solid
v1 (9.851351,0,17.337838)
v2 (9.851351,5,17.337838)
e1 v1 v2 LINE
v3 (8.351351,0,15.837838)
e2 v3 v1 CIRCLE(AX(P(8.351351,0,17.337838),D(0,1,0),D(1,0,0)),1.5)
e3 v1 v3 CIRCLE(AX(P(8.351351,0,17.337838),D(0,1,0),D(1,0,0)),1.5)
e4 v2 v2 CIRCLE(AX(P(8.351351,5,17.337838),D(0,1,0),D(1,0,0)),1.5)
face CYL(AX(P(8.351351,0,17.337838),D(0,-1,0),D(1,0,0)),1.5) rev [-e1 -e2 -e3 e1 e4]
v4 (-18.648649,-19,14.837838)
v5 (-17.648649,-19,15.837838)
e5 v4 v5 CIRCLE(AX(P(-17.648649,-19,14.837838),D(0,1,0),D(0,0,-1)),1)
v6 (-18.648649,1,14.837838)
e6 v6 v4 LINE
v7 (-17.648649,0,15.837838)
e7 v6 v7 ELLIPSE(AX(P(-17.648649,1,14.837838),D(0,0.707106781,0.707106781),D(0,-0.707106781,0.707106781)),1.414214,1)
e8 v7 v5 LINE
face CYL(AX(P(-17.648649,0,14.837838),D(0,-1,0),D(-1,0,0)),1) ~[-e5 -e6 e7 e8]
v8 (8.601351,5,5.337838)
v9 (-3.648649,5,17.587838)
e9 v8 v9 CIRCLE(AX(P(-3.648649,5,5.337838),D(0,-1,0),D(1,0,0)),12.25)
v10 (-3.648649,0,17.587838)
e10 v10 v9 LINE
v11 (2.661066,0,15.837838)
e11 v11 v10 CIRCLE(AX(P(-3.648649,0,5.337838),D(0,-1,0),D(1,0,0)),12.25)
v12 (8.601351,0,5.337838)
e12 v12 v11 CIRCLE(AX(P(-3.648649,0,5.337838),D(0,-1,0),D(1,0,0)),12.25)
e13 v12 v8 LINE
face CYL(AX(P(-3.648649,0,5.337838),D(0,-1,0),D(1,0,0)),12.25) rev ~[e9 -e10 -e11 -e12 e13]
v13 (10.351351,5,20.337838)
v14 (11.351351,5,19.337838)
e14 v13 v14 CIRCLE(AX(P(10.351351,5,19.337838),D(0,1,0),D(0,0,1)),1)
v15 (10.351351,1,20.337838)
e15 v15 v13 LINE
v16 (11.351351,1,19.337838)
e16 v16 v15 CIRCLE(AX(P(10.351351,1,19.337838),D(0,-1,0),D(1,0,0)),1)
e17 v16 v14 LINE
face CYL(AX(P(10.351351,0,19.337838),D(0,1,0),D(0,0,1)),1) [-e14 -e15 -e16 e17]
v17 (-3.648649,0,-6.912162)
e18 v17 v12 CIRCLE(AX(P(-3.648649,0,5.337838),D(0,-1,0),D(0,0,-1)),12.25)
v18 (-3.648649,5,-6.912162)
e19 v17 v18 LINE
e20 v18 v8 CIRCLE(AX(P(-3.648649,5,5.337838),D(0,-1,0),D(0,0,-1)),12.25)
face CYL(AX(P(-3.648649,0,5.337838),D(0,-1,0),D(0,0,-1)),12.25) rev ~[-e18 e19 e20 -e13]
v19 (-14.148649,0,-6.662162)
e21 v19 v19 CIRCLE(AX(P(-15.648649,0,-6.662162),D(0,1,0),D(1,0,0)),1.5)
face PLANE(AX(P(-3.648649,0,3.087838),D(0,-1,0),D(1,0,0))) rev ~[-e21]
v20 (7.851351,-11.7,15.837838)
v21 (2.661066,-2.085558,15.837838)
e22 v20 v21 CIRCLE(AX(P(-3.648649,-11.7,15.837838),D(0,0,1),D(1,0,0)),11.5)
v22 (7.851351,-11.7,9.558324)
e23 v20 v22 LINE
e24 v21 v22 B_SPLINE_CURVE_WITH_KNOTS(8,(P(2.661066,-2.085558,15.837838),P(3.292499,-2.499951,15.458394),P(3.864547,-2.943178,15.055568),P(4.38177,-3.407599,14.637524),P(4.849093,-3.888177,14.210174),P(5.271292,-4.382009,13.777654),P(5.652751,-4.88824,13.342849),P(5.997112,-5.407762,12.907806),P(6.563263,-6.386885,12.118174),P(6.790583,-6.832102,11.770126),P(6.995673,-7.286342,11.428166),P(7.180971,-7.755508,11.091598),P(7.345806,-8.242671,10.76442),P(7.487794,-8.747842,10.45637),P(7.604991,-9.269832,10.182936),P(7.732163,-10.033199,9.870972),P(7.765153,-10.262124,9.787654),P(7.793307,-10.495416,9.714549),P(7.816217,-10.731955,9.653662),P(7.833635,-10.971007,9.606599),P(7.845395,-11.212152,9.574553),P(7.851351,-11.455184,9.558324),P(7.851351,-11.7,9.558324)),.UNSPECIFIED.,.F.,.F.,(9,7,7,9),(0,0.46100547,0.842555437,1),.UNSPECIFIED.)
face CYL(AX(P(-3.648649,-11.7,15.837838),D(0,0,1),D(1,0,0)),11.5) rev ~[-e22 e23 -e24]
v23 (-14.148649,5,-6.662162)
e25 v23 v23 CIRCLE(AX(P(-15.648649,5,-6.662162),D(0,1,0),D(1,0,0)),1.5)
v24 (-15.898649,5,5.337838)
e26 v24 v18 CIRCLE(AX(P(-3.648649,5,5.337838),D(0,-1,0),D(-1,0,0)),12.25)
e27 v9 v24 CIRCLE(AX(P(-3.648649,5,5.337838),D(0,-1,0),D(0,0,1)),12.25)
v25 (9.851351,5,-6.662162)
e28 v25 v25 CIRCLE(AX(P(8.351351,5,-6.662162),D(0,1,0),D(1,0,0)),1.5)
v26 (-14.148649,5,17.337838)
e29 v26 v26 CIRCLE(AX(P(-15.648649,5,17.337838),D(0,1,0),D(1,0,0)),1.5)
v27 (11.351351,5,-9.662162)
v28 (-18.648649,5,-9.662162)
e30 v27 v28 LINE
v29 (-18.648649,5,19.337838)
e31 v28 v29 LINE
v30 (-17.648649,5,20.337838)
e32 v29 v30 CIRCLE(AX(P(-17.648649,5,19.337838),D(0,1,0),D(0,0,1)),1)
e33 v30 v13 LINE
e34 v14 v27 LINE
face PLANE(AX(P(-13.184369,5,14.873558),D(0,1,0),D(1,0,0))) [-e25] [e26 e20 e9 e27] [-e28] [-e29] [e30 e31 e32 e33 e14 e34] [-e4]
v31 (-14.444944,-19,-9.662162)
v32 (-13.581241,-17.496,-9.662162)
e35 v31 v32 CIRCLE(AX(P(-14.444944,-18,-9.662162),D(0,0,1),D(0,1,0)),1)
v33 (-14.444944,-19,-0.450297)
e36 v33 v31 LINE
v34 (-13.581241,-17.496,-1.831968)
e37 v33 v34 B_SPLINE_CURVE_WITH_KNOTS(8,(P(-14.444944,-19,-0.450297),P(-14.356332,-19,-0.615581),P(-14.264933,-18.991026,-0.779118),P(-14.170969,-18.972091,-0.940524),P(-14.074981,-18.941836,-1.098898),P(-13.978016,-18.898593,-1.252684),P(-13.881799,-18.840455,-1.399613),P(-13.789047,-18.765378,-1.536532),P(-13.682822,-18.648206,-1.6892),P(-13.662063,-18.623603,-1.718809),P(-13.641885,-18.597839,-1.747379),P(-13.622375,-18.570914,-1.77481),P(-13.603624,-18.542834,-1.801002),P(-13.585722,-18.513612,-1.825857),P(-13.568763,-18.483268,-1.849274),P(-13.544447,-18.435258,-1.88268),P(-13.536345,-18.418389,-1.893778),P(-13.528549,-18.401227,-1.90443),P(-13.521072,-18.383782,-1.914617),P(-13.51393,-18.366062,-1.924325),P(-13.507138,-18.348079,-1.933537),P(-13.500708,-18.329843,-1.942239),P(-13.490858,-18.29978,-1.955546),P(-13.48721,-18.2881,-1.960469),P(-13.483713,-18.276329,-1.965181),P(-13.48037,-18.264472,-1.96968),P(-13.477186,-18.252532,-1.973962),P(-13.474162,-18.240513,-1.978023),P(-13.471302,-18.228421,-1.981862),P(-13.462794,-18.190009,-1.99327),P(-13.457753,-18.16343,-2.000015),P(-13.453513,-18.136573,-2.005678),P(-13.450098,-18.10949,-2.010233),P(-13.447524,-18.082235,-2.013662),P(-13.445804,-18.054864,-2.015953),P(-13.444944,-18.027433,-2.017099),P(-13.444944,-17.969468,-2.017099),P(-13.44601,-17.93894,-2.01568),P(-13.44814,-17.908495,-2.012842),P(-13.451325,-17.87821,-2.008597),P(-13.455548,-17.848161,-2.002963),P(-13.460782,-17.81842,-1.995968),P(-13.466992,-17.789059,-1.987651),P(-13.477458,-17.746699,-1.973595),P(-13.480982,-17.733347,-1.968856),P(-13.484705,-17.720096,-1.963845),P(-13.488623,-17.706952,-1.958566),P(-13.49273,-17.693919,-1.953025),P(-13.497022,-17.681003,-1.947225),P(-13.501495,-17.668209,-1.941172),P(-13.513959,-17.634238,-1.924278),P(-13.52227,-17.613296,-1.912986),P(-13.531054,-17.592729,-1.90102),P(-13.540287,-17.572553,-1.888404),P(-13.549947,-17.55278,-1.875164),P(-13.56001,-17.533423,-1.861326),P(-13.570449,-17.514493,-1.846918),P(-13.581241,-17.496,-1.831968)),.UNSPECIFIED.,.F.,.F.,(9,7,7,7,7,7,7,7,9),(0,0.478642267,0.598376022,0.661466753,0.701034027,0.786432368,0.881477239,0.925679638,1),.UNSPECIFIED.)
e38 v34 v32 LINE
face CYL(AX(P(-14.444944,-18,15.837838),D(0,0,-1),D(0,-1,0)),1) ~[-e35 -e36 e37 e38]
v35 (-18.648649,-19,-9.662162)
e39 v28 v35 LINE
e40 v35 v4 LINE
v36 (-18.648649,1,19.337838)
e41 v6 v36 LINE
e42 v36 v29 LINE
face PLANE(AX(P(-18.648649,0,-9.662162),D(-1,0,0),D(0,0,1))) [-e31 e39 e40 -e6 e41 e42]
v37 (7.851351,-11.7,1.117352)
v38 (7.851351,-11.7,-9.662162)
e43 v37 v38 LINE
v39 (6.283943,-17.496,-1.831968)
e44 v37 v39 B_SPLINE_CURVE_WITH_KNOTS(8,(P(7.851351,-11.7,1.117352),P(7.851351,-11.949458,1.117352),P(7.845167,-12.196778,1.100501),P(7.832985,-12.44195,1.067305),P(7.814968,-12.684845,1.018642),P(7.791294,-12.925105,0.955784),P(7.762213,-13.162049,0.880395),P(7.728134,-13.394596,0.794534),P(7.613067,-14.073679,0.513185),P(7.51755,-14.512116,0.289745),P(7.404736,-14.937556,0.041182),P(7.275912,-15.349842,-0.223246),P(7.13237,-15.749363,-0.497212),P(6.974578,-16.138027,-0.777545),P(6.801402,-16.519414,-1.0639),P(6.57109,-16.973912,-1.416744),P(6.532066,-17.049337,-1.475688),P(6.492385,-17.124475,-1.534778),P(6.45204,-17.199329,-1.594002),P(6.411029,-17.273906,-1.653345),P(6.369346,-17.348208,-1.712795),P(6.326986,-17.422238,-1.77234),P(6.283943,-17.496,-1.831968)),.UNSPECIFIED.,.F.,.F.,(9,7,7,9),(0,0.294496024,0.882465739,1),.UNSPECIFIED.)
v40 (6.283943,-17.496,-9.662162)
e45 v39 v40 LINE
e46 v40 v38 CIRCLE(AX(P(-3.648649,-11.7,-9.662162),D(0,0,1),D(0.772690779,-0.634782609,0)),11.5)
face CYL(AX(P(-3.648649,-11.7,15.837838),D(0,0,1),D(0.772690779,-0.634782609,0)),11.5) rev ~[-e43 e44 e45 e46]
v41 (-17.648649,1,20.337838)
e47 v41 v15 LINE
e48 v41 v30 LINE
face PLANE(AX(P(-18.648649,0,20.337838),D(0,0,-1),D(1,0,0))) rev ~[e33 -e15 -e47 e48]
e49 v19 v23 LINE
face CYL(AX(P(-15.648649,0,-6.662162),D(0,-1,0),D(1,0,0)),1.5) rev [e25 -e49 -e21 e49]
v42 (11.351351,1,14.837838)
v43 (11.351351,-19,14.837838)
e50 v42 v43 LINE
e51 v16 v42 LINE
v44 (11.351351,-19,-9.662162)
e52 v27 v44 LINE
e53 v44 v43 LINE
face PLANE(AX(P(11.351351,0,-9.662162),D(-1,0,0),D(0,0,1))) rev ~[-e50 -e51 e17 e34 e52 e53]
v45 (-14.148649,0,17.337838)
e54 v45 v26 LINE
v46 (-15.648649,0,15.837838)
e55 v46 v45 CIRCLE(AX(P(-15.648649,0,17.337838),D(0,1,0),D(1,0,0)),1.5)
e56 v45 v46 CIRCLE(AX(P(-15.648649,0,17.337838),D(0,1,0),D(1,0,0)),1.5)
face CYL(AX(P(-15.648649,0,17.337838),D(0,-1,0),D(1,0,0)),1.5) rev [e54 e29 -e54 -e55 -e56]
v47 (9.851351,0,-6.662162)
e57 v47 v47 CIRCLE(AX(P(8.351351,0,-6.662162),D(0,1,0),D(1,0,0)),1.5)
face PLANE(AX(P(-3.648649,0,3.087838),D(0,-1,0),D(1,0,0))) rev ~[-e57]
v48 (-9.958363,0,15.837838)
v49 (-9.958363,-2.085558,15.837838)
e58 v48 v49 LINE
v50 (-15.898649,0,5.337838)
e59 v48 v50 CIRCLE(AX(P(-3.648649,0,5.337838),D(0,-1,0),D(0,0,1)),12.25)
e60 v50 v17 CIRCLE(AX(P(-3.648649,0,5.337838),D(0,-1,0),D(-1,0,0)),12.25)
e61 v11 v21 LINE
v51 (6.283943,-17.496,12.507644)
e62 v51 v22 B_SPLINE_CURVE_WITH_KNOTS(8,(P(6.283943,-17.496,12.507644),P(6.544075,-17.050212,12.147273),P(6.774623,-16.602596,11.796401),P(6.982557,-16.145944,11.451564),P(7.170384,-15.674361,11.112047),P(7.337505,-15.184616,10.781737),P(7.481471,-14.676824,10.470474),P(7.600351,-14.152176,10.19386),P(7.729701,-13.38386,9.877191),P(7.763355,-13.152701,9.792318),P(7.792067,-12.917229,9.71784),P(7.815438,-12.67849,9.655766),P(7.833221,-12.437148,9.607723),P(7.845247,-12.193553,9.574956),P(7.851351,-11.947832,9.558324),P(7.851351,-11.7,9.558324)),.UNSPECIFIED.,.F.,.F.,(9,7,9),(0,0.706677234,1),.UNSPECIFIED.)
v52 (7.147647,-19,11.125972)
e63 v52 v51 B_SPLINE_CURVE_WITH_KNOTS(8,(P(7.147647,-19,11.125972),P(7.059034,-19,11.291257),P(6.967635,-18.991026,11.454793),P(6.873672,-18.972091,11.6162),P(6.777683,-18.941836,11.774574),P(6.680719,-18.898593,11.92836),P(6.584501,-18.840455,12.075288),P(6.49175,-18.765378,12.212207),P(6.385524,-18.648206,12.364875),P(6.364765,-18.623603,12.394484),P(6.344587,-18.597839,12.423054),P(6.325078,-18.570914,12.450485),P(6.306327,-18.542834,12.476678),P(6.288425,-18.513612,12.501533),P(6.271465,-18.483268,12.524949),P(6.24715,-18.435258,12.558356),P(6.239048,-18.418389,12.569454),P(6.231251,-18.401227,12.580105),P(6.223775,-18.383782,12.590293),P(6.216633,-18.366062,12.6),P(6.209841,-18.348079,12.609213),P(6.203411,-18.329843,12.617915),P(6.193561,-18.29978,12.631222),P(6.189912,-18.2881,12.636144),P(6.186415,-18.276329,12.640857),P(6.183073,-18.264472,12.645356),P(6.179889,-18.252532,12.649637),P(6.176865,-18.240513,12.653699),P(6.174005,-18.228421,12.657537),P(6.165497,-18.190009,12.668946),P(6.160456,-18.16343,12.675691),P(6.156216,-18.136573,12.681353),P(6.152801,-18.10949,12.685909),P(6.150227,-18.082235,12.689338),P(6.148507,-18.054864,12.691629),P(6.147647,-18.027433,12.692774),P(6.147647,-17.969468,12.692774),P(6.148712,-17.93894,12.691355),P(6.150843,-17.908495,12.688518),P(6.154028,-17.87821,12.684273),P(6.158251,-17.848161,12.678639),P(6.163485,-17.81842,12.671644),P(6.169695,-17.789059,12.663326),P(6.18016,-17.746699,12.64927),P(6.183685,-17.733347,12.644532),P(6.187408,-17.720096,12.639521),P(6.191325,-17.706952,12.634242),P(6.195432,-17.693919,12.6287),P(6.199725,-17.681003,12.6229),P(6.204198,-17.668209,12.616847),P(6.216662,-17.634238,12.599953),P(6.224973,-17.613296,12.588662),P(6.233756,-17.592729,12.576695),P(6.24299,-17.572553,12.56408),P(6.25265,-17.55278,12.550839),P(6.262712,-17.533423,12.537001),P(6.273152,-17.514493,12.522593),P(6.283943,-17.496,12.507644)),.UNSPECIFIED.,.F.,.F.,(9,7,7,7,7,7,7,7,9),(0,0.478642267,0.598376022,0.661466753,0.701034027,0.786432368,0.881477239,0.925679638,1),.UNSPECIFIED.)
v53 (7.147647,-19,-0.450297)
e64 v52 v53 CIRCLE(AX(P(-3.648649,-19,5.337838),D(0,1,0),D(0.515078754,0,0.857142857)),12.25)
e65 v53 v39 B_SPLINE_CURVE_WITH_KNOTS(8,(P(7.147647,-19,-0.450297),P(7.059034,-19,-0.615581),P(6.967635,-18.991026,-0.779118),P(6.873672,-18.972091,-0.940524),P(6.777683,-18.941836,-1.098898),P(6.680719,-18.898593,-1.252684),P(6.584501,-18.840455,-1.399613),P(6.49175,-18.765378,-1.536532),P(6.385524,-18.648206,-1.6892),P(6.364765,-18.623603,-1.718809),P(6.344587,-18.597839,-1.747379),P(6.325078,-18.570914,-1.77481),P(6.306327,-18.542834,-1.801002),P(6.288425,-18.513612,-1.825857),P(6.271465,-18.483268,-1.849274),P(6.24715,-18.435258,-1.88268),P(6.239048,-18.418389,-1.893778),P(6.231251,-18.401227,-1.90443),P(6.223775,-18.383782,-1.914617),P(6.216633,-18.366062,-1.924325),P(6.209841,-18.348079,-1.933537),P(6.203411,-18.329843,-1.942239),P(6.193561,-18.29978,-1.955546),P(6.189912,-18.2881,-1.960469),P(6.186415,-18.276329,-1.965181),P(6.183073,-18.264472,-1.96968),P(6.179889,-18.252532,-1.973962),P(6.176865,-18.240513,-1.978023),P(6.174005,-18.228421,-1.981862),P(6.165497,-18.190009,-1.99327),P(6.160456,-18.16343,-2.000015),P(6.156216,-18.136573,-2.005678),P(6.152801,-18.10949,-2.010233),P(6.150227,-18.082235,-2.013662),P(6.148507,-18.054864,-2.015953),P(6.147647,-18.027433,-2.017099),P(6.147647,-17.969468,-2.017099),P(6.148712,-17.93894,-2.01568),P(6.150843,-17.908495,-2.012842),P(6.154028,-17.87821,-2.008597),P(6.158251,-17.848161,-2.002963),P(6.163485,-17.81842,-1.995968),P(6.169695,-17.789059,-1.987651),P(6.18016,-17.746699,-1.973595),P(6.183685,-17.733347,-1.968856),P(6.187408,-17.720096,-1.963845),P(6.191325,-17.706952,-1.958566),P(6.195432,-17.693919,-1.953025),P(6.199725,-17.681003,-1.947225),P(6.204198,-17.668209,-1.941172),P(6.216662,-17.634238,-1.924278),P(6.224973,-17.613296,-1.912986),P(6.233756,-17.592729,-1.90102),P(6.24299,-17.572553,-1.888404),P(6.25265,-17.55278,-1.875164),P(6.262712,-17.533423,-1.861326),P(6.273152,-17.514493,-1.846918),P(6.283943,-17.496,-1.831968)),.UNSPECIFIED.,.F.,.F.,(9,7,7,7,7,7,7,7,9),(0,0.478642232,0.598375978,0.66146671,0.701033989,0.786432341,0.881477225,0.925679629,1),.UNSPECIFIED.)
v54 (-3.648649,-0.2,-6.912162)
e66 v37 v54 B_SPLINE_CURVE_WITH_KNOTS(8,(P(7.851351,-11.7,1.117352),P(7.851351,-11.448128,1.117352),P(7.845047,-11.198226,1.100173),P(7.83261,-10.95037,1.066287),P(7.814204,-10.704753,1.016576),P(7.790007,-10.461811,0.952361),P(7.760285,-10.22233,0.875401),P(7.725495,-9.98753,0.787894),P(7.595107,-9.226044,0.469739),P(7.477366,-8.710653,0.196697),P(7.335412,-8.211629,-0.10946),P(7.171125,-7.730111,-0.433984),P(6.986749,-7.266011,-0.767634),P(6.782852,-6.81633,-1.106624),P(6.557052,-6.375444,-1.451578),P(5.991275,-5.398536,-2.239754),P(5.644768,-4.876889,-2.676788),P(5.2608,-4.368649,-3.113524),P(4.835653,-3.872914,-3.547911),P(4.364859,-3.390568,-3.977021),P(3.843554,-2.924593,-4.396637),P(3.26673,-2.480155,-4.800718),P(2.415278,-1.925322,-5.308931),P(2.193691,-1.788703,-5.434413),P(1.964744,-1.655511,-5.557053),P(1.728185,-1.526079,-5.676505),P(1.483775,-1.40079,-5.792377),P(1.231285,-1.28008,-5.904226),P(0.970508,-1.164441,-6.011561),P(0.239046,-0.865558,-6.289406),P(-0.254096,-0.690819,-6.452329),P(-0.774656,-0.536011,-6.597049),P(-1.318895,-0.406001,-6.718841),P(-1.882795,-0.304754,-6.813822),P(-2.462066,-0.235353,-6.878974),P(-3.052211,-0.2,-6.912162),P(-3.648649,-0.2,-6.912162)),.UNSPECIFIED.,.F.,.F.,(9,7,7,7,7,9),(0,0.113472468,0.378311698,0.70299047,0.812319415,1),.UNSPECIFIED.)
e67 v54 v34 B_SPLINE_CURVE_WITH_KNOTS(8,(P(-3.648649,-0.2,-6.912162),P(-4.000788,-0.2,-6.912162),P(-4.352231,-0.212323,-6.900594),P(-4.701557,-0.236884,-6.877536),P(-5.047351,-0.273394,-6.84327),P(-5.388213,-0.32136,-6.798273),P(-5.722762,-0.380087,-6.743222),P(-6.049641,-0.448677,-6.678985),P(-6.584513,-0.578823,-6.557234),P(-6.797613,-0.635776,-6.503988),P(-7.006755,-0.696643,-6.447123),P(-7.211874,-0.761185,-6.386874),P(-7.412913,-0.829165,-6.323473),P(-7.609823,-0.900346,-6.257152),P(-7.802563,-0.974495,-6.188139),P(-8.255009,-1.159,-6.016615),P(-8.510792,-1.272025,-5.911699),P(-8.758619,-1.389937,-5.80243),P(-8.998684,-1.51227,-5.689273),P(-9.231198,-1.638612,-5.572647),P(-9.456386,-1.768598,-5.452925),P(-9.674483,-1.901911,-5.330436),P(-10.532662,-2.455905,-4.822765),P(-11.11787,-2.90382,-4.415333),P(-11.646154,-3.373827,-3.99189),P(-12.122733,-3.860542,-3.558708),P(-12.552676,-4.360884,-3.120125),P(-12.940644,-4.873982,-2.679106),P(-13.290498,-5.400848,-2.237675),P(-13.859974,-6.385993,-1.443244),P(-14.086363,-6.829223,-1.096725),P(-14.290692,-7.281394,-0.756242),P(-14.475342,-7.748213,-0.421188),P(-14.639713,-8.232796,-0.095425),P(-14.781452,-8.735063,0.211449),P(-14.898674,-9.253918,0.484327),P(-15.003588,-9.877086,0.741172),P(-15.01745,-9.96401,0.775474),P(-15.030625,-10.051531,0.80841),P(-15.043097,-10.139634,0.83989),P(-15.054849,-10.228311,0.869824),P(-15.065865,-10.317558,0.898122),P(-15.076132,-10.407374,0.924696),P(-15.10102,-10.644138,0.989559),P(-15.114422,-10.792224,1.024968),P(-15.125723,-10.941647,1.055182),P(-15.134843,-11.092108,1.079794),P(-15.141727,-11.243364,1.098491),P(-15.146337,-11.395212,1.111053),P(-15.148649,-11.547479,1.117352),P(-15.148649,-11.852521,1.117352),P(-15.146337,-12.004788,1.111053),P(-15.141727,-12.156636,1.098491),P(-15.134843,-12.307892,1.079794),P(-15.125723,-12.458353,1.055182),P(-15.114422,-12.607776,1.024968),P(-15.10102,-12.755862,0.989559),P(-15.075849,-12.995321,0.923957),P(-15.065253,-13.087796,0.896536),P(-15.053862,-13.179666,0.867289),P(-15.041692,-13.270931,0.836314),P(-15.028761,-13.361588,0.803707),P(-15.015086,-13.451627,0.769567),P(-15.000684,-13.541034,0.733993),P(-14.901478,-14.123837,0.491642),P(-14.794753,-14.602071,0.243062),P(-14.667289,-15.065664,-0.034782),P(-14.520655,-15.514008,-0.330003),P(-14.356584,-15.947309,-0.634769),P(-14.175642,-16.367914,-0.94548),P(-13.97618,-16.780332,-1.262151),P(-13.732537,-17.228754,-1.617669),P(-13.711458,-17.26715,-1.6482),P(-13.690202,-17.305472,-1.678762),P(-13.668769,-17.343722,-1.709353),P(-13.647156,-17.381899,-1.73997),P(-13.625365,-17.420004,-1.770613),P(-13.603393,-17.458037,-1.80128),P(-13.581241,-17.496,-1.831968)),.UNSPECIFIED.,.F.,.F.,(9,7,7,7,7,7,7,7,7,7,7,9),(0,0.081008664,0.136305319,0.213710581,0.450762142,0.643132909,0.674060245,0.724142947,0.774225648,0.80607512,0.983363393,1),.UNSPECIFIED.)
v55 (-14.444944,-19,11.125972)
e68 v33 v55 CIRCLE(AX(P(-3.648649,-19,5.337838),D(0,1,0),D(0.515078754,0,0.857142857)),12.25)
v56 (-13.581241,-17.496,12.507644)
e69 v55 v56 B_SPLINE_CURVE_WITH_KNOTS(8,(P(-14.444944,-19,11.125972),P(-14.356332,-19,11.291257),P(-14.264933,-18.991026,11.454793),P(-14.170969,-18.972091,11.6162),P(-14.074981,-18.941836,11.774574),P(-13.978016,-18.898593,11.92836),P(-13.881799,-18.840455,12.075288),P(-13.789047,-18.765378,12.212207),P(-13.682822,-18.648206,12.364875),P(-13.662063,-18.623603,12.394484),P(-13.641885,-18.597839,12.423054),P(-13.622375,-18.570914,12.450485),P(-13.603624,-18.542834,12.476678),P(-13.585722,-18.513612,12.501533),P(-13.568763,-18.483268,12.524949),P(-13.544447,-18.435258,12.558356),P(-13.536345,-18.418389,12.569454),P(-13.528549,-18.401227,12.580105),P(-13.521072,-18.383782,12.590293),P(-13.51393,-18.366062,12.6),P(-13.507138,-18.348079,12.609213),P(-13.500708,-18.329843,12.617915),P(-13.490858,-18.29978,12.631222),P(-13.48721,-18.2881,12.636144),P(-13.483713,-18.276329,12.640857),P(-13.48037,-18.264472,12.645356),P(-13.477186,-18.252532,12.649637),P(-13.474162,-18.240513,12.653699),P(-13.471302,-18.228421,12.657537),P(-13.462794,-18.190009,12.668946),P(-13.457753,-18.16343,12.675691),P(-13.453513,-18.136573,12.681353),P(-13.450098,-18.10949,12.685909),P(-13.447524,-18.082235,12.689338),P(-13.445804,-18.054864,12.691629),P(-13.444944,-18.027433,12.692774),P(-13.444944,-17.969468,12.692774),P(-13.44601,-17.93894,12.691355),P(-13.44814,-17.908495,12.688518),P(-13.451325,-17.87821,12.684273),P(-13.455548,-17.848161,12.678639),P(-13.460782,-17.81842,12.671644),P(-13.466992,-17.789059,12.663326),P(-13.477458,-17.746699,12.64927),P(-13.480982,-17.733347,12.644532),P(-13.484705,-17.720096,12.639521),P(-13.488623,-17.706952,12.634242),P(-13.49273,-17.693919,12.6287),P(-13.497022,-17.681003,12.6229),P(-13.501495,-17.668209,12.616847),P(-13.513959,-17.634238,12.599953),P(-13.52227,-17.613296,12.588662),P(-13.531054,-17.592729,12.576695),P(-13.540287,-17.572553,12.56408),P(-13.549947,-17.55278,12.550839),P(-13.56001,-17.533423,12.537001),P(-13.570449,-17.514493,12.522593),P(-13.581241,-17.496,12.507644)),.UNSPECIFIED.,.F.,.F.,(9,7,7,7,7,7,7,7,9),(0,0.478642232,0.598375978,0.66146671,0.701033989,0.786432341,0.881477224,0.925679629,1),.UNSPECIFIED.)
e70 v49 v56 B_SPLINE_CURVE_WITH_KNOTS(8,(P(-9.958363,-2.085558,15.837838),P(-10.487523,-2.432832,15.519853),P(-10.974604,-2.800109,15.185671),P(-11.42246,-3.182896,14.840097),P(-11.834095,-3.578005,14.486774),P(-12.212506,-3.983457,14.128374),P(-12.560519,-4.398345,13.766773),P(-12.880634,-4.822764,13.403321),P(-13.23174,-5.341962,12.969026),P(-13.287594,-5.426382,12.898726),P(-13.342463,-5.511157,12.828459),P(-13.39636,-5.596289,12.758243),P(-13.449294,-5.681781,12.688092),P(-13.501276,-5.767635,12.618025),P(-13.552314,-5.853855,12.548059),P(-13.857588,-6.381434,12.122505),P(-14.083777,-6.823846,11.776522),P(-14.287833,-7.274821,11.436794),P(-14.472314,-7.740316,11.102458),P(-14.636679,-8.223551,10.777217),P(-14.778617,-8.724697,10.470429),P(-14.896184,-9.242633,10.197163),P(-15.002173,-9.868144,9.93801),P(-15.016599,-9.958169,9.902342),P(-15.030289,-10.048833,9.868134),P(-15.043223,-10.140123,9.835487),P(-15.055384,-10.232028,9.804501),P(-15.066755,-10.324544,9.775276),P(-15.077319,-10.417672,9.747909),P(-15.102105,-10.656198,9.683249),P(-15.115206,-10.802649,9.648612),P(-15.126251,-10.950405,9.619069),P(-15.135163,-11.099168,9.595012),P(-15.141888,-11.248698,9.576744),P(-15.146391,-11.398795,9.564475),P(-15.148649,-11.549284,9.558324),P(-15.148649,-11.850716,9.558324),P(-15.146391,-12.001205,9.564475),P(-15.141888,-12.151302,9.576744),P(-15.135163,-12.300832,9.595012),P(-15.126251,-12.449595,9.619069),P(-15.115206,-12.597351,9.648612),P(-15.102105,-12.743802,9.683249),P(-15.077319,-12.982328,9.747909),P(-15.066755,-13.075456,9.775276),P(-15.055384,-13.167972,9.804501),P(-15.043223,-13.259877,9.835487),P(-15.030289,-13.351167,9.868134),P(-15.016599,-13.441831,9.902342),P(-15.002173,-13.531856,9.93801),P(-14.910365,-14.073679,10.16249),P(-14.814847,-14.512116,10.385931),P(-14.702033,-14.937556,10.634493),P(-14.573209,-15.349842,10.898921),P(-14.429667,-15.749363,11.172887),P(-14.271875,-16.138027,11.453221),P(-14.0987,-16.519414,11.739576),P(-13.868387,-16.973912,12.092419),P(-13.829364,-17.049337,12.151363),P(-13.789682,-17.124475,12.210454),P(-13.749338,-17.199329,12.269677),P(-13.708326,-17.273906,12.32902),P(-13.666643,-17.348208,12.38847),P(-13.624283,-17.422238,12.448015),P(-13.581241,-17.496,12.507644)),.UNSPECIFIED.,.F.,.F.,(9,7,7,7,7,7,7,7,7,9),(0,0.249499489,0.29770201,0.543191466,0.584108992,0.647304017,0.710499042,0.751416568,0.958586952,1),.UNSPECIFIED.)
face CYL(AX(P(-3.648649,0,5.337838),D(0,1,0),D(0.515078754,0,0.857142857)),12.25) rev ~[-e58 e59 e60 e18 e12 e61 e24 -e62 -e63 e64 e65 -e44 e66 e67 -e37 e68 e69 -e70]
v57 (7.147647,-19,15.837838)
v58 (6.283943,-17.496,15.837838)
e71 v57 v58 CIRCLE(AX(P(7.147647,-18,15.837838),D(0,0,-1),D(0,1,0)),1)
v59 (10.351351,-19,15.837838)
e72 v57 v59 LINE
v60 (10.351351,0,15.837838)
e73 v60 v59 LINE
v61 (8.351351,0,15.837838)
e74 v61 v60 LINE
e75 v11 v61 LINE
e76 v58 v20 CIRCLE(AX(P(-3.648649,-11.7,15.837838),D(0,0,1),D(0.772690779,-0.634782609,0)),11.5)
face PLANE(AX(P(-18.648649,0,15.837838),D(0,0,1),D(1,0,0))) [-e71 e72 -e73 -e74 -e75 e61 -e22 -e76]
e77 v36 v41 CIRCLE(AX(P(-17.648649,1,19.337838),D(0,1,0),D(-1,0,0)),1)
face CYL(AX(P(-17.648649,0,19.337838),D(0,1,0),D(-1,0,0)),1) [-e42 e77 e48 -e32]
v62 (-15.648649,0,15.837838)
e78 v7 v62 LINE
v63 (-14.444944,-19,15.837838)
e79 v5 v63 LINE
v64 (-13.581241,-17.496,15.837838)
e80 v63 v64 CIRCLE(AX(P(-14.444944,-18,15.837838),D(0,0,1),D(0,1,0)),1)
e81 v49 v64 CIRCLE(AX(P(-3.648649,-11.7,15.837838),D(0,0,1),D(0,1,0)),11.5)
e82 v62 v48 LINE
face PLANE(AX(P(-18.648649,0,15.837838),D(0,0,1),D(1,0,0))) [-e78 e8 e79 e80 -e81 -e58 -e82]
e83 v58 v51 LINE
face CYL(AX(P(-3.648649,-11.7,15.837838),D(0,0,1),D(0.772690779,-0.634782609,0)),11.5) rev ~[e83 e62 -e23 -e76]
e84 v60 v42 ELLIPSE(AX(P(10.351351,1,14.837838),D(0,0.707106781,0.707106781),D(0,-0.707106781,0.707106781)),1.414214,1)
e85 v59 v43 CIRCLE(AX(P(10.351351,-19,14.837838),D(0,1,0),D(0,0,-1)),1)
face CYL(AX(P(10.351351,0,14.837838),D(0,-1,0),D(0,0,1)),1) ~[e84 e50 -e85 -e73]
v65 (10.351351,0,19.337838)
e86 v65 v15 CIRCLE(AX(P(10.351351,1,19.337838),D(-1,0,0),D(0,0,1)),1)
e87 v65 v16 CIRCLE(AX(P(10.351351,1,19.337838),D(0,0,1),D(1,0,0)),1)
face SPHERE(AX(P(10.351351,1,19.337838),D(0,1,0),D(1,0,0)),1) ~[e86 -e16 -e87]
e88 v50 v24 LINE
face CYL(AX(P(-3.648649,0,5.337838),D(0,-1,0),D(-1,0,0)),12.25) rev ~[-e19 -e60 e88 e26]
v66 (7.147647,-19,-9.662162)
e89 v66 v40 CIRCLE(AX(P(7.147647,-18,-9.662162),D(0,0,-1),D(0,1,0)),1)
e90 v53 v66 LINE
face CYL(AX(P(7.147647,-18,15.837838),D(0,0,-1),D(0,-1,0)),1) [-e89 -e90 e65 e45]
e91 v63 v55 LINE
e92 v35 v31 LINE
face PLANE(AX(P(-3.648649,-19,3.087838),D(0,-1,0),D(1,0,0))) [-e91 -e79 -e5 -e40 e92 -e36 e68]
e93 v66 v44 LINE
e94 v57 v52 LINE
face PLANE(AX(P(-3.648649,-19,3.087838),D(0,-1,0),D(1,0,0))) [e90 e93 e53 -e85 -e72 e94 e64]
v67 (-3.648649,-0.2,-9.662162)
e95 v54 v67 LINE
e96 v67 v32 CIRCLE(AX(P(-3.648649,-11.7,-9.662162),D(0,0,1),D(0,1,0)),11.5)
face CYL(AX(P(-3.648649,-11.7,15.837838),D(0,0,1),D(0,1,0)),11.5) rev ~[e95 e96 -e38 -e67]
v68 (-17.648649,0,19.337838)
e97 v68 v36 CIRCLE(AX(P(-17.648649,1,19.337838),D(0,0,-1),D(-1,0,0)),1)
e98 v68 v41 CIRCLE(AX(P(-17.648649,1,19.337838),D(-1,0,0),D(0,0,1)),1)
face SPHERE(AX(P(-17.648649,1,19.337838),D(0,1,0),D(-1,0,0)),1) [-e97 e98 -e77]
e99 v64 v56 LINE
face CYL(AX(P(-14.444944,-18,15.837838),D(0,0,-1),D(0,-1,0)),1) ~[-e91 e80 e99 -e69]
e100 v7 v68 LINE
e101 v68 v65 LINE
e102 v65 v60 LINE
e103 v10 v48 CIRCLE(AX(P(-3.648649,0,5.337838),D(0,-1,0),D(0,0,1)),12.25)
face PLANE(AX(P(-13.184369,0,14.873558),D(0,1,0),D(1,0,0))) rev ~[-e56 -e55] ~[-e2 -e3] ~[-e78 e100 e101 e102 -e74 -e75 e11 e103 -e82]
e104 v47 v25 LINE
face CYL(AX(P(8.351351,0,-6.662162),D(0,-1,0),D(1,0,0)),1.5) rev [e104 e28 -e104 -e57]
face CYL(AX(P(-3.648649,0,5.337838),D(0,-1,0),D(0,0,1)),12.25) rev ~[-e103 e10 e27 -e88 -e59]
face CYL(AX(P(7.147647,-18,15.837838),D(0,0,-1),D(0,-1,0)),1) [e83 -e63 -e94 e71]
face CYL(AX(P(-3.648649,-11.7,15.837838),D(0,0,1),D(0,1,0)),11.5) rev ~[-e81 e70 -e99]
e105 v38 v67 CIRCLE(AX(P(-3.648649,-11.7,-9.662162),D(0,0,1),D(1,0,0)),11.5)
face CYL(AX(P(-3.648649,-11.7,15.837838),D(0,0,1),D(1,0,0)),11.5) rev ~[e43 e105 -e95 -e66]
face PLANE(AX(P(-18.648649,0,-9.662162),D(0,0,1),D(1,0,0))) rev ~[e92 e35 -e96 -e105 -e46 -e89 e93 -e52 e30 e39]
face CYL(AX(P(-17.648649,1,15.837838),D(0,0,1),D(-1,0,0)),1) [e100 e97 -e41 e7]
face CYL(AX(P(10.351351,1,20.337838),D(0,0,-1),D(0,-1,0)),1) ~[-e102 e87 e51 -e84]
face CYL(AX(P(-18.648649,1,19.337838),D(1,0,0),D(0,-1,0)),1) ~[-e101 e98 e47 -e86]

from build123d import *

# Parameters (mm, degrees)
SKETCH1_R           = 1.5
BOSS_EXTRUDE1_DEPTH = 5
SKETCH3_W           = 30
SKETCH3_H           = 25.5
BOSS_EXTRUDE2_DEPTH = 19
CUT_EXTRUDE7_DEPTH  = 26.5
FILLET10_R          = 1
FILLET11_R          = 1
CUT_EXTRUDE9_DEPTH  = 20


with BuildPart() as part:
    # Sketch1 → Boss-Extrude1 (new body)
    with BuildSketch(Plane(origin=(0, 0, 0), x_dir=(1, 0, 0), z_dir=(0, 1, 0))):
        with BuildLine():
            Line((-15.898648649, -5.337837838), (-18.648648649, -5.337837838))
            Line((-18.648648649, -5.337837838), (-18.648648649, -20.337837838))
            Line((-18.648648649, -20.337837838), (-3.648648649, -20.337837838))
            Line((-3.648648649, -20.337837838), (-3.648648649, -17.587837838))
            ThreePointArc((-3.648648649, -17.587837838), (-12.310706718, -13.999895907), (-15.898648649, -5.337837838))
        make_face()
        with Locations((-15.648648649, -17.337837838)):
            Circle(SKETCH1_R, mode=Mode.SUBTRACT)
        with BuildLine():
            ThreePointArc((8.601351351, -5.337837838), (5.013409421, -13.999895907), (-3.648648649, -17.587837838))
            Line((-3.648648649, -17.587837838), (-3.648648649, -20.337837838))
            Line((-3.648648649, -20.337837838), (11.351351351, -20.337837838))
            Line((11.351351351, -20.337837838), (11.351351351, -5.337837838))
            Line((11.351351351, -5.337837838), (8.601351351, -5.337837838))
        make_face()
        with Locations((8.351351351, -17.337837838)):
            Circle(SKETCH1_R, mode=Mode.SUBTRACT)
        with BuildLine():
            Line((-3.648648649, 9.662162162), (-3.648648649, 6.912162162))
            ThreePointArc((-3.648648649, 6.912162162), (5.013409421, 3.324220232), (8.601351351, -5.337837838))
            Line((8.601351351, -5.337837838), (11.351351351, -5.337837838))
            Line((11.351351351, -5.337837838), (11.351351351, 9.662162162))
            Line((11.351351351, 9.662162162), (-3.648648649, 9.662162162))
        make_face()
        with Locations((8.351351351, 6.662162162)):
            Circle(SKETCH1_R, mode=Mode.SUBTRACT)
        with BuildLine():
            Line((-18.648648649, 9.662162162), (-18.648648649, -5.337837838))
            Line((-18.648648649, -5.337837838), (-15.898648649, -5.337837838))
            ThreePointArc((-15.898648649, -5.337837838), (-12.310706718, 3.324220232), (-3.648648649, 6.912162162))
            Line((-3.648648649, 6.912162162), (-3.648648649, 9.662162162))
            Line((-3.648648649, 9.662162162), (-18.648648649, 9.662162162))
        make_face()
        with Locations((-15.648648649, 6.662162162)):
            Circle(SKETCH1_R, mode=Mode.SUBTRACT)
    extrude(amount=BOSS_EXTRUDE1_DEPTH)

    # Sketch3 → Boss-Extrude2 (add)
    with BuildSketch(Plane.XZ):
        with Locations((-3.648648649, 3.087837838)):
            Rectangle(SKETCH3_W, SKETCH3_H)
    extrude(amount=BOSS_EXTRUDE2_DEPTH)

    # Sketch4 → Cut-Extrude7 (cut, through all)
    with BuildSketch(Plane.XY.offset(15.837837838)):
        with BuildLine():
            ThreePointArc((7.851351351, -11.7), (4.483079335, -3.568272016), (-3.648648649, -0.2))
            Line((-3.648648649, -0.2), (-3.648648649, -19))
            Line((-3.648648649, -19), (5.237295308, -19))
            ThreePointArc((5.237295308, -19), (7.178131932, -15.57696044), (7.851351351, -11.7))
        make_face()
        with BuildLine():
            Line((-3.648648649, -19), (-3.648648649, -0.2))
            ThreePointArc((-3.648648649, -0.2), (-14.045763633, -6.78573505), (-12.534592605, -19))
            Line((-12.534592605, -19), (-3.648648649, -19))
        make_face()
        with BuildLine():
            Line((5.237295308, -19), (-3.648648649, -19))
            Line((-3.648648649, -19), (-3.648648649, -23.2))
            ThreePointArc((-3.648648649, -23.2), (1.265616301, -22.097114984), (5.237295308, -19))
        make_face()
        with BuildLine():
            Line((-3.648648649, -23.2), (-3.648648649, -19))
            Line((-3.648648649, -19), (-12.534592605, -19))
            ThreePointArc((-12.534592605, -19), (-8.562913599, -22.097114984), (-3.648648649, -23.2))
        make_face()
    extrude(amount=-CUT_EXTRUDE7_DEPTH, mode=Mode.SUBTRACT)

    # Fillet10
    fillet10_edges = [part.edges().sort_by_distance(p)[0] for p in [
        (11.351351351, 2.5, 20.337837838),
        (-18.648648649, 2.5, 20.337837838),
        (-18.648648649, 0, 18.087837838),
        (-18.648648649, -9.5, 15.837837838),
        (11.351351351, -9.5, 15.837837838),
        (11.351351351, 0, 18.087837838),
        (-3.648648649, 0, 20.337837838),
    ]]
    fillet(fillet10_edges, radius=FILLET10_R)

    # Fillet11
    fillet11_edges = [part.edges().sort_by_distance(p)[0] for p in [
        (5.237295308, -19, 3.087837838),
        (-12.534592605, -19, 3.087837838),
    ]]
    fillet(fillet11_edges, radius=FILLET11_R)

    # Sketch5 → Cut-Extrude9 (cut, through all)
    with BuildSketch(Plane(origin=(0, 0, 0), x_dir=(1, 0, 0), z_dir=(0, 1, 0))):
        with BuildLine():
            ThreePointArc((2.661066083, -15.837837838), (-3.648648649, 6.912162162), (-9.958363381, -15.837837838))
            Line((-9.958363381, -15.837837838), (2.661066083, -15.837837838))
        make_face()
    extrude(amount=-CUT_EXTRUDE9_DEPTH, mode=Mode.SUBTRACT)


solid = part.part
